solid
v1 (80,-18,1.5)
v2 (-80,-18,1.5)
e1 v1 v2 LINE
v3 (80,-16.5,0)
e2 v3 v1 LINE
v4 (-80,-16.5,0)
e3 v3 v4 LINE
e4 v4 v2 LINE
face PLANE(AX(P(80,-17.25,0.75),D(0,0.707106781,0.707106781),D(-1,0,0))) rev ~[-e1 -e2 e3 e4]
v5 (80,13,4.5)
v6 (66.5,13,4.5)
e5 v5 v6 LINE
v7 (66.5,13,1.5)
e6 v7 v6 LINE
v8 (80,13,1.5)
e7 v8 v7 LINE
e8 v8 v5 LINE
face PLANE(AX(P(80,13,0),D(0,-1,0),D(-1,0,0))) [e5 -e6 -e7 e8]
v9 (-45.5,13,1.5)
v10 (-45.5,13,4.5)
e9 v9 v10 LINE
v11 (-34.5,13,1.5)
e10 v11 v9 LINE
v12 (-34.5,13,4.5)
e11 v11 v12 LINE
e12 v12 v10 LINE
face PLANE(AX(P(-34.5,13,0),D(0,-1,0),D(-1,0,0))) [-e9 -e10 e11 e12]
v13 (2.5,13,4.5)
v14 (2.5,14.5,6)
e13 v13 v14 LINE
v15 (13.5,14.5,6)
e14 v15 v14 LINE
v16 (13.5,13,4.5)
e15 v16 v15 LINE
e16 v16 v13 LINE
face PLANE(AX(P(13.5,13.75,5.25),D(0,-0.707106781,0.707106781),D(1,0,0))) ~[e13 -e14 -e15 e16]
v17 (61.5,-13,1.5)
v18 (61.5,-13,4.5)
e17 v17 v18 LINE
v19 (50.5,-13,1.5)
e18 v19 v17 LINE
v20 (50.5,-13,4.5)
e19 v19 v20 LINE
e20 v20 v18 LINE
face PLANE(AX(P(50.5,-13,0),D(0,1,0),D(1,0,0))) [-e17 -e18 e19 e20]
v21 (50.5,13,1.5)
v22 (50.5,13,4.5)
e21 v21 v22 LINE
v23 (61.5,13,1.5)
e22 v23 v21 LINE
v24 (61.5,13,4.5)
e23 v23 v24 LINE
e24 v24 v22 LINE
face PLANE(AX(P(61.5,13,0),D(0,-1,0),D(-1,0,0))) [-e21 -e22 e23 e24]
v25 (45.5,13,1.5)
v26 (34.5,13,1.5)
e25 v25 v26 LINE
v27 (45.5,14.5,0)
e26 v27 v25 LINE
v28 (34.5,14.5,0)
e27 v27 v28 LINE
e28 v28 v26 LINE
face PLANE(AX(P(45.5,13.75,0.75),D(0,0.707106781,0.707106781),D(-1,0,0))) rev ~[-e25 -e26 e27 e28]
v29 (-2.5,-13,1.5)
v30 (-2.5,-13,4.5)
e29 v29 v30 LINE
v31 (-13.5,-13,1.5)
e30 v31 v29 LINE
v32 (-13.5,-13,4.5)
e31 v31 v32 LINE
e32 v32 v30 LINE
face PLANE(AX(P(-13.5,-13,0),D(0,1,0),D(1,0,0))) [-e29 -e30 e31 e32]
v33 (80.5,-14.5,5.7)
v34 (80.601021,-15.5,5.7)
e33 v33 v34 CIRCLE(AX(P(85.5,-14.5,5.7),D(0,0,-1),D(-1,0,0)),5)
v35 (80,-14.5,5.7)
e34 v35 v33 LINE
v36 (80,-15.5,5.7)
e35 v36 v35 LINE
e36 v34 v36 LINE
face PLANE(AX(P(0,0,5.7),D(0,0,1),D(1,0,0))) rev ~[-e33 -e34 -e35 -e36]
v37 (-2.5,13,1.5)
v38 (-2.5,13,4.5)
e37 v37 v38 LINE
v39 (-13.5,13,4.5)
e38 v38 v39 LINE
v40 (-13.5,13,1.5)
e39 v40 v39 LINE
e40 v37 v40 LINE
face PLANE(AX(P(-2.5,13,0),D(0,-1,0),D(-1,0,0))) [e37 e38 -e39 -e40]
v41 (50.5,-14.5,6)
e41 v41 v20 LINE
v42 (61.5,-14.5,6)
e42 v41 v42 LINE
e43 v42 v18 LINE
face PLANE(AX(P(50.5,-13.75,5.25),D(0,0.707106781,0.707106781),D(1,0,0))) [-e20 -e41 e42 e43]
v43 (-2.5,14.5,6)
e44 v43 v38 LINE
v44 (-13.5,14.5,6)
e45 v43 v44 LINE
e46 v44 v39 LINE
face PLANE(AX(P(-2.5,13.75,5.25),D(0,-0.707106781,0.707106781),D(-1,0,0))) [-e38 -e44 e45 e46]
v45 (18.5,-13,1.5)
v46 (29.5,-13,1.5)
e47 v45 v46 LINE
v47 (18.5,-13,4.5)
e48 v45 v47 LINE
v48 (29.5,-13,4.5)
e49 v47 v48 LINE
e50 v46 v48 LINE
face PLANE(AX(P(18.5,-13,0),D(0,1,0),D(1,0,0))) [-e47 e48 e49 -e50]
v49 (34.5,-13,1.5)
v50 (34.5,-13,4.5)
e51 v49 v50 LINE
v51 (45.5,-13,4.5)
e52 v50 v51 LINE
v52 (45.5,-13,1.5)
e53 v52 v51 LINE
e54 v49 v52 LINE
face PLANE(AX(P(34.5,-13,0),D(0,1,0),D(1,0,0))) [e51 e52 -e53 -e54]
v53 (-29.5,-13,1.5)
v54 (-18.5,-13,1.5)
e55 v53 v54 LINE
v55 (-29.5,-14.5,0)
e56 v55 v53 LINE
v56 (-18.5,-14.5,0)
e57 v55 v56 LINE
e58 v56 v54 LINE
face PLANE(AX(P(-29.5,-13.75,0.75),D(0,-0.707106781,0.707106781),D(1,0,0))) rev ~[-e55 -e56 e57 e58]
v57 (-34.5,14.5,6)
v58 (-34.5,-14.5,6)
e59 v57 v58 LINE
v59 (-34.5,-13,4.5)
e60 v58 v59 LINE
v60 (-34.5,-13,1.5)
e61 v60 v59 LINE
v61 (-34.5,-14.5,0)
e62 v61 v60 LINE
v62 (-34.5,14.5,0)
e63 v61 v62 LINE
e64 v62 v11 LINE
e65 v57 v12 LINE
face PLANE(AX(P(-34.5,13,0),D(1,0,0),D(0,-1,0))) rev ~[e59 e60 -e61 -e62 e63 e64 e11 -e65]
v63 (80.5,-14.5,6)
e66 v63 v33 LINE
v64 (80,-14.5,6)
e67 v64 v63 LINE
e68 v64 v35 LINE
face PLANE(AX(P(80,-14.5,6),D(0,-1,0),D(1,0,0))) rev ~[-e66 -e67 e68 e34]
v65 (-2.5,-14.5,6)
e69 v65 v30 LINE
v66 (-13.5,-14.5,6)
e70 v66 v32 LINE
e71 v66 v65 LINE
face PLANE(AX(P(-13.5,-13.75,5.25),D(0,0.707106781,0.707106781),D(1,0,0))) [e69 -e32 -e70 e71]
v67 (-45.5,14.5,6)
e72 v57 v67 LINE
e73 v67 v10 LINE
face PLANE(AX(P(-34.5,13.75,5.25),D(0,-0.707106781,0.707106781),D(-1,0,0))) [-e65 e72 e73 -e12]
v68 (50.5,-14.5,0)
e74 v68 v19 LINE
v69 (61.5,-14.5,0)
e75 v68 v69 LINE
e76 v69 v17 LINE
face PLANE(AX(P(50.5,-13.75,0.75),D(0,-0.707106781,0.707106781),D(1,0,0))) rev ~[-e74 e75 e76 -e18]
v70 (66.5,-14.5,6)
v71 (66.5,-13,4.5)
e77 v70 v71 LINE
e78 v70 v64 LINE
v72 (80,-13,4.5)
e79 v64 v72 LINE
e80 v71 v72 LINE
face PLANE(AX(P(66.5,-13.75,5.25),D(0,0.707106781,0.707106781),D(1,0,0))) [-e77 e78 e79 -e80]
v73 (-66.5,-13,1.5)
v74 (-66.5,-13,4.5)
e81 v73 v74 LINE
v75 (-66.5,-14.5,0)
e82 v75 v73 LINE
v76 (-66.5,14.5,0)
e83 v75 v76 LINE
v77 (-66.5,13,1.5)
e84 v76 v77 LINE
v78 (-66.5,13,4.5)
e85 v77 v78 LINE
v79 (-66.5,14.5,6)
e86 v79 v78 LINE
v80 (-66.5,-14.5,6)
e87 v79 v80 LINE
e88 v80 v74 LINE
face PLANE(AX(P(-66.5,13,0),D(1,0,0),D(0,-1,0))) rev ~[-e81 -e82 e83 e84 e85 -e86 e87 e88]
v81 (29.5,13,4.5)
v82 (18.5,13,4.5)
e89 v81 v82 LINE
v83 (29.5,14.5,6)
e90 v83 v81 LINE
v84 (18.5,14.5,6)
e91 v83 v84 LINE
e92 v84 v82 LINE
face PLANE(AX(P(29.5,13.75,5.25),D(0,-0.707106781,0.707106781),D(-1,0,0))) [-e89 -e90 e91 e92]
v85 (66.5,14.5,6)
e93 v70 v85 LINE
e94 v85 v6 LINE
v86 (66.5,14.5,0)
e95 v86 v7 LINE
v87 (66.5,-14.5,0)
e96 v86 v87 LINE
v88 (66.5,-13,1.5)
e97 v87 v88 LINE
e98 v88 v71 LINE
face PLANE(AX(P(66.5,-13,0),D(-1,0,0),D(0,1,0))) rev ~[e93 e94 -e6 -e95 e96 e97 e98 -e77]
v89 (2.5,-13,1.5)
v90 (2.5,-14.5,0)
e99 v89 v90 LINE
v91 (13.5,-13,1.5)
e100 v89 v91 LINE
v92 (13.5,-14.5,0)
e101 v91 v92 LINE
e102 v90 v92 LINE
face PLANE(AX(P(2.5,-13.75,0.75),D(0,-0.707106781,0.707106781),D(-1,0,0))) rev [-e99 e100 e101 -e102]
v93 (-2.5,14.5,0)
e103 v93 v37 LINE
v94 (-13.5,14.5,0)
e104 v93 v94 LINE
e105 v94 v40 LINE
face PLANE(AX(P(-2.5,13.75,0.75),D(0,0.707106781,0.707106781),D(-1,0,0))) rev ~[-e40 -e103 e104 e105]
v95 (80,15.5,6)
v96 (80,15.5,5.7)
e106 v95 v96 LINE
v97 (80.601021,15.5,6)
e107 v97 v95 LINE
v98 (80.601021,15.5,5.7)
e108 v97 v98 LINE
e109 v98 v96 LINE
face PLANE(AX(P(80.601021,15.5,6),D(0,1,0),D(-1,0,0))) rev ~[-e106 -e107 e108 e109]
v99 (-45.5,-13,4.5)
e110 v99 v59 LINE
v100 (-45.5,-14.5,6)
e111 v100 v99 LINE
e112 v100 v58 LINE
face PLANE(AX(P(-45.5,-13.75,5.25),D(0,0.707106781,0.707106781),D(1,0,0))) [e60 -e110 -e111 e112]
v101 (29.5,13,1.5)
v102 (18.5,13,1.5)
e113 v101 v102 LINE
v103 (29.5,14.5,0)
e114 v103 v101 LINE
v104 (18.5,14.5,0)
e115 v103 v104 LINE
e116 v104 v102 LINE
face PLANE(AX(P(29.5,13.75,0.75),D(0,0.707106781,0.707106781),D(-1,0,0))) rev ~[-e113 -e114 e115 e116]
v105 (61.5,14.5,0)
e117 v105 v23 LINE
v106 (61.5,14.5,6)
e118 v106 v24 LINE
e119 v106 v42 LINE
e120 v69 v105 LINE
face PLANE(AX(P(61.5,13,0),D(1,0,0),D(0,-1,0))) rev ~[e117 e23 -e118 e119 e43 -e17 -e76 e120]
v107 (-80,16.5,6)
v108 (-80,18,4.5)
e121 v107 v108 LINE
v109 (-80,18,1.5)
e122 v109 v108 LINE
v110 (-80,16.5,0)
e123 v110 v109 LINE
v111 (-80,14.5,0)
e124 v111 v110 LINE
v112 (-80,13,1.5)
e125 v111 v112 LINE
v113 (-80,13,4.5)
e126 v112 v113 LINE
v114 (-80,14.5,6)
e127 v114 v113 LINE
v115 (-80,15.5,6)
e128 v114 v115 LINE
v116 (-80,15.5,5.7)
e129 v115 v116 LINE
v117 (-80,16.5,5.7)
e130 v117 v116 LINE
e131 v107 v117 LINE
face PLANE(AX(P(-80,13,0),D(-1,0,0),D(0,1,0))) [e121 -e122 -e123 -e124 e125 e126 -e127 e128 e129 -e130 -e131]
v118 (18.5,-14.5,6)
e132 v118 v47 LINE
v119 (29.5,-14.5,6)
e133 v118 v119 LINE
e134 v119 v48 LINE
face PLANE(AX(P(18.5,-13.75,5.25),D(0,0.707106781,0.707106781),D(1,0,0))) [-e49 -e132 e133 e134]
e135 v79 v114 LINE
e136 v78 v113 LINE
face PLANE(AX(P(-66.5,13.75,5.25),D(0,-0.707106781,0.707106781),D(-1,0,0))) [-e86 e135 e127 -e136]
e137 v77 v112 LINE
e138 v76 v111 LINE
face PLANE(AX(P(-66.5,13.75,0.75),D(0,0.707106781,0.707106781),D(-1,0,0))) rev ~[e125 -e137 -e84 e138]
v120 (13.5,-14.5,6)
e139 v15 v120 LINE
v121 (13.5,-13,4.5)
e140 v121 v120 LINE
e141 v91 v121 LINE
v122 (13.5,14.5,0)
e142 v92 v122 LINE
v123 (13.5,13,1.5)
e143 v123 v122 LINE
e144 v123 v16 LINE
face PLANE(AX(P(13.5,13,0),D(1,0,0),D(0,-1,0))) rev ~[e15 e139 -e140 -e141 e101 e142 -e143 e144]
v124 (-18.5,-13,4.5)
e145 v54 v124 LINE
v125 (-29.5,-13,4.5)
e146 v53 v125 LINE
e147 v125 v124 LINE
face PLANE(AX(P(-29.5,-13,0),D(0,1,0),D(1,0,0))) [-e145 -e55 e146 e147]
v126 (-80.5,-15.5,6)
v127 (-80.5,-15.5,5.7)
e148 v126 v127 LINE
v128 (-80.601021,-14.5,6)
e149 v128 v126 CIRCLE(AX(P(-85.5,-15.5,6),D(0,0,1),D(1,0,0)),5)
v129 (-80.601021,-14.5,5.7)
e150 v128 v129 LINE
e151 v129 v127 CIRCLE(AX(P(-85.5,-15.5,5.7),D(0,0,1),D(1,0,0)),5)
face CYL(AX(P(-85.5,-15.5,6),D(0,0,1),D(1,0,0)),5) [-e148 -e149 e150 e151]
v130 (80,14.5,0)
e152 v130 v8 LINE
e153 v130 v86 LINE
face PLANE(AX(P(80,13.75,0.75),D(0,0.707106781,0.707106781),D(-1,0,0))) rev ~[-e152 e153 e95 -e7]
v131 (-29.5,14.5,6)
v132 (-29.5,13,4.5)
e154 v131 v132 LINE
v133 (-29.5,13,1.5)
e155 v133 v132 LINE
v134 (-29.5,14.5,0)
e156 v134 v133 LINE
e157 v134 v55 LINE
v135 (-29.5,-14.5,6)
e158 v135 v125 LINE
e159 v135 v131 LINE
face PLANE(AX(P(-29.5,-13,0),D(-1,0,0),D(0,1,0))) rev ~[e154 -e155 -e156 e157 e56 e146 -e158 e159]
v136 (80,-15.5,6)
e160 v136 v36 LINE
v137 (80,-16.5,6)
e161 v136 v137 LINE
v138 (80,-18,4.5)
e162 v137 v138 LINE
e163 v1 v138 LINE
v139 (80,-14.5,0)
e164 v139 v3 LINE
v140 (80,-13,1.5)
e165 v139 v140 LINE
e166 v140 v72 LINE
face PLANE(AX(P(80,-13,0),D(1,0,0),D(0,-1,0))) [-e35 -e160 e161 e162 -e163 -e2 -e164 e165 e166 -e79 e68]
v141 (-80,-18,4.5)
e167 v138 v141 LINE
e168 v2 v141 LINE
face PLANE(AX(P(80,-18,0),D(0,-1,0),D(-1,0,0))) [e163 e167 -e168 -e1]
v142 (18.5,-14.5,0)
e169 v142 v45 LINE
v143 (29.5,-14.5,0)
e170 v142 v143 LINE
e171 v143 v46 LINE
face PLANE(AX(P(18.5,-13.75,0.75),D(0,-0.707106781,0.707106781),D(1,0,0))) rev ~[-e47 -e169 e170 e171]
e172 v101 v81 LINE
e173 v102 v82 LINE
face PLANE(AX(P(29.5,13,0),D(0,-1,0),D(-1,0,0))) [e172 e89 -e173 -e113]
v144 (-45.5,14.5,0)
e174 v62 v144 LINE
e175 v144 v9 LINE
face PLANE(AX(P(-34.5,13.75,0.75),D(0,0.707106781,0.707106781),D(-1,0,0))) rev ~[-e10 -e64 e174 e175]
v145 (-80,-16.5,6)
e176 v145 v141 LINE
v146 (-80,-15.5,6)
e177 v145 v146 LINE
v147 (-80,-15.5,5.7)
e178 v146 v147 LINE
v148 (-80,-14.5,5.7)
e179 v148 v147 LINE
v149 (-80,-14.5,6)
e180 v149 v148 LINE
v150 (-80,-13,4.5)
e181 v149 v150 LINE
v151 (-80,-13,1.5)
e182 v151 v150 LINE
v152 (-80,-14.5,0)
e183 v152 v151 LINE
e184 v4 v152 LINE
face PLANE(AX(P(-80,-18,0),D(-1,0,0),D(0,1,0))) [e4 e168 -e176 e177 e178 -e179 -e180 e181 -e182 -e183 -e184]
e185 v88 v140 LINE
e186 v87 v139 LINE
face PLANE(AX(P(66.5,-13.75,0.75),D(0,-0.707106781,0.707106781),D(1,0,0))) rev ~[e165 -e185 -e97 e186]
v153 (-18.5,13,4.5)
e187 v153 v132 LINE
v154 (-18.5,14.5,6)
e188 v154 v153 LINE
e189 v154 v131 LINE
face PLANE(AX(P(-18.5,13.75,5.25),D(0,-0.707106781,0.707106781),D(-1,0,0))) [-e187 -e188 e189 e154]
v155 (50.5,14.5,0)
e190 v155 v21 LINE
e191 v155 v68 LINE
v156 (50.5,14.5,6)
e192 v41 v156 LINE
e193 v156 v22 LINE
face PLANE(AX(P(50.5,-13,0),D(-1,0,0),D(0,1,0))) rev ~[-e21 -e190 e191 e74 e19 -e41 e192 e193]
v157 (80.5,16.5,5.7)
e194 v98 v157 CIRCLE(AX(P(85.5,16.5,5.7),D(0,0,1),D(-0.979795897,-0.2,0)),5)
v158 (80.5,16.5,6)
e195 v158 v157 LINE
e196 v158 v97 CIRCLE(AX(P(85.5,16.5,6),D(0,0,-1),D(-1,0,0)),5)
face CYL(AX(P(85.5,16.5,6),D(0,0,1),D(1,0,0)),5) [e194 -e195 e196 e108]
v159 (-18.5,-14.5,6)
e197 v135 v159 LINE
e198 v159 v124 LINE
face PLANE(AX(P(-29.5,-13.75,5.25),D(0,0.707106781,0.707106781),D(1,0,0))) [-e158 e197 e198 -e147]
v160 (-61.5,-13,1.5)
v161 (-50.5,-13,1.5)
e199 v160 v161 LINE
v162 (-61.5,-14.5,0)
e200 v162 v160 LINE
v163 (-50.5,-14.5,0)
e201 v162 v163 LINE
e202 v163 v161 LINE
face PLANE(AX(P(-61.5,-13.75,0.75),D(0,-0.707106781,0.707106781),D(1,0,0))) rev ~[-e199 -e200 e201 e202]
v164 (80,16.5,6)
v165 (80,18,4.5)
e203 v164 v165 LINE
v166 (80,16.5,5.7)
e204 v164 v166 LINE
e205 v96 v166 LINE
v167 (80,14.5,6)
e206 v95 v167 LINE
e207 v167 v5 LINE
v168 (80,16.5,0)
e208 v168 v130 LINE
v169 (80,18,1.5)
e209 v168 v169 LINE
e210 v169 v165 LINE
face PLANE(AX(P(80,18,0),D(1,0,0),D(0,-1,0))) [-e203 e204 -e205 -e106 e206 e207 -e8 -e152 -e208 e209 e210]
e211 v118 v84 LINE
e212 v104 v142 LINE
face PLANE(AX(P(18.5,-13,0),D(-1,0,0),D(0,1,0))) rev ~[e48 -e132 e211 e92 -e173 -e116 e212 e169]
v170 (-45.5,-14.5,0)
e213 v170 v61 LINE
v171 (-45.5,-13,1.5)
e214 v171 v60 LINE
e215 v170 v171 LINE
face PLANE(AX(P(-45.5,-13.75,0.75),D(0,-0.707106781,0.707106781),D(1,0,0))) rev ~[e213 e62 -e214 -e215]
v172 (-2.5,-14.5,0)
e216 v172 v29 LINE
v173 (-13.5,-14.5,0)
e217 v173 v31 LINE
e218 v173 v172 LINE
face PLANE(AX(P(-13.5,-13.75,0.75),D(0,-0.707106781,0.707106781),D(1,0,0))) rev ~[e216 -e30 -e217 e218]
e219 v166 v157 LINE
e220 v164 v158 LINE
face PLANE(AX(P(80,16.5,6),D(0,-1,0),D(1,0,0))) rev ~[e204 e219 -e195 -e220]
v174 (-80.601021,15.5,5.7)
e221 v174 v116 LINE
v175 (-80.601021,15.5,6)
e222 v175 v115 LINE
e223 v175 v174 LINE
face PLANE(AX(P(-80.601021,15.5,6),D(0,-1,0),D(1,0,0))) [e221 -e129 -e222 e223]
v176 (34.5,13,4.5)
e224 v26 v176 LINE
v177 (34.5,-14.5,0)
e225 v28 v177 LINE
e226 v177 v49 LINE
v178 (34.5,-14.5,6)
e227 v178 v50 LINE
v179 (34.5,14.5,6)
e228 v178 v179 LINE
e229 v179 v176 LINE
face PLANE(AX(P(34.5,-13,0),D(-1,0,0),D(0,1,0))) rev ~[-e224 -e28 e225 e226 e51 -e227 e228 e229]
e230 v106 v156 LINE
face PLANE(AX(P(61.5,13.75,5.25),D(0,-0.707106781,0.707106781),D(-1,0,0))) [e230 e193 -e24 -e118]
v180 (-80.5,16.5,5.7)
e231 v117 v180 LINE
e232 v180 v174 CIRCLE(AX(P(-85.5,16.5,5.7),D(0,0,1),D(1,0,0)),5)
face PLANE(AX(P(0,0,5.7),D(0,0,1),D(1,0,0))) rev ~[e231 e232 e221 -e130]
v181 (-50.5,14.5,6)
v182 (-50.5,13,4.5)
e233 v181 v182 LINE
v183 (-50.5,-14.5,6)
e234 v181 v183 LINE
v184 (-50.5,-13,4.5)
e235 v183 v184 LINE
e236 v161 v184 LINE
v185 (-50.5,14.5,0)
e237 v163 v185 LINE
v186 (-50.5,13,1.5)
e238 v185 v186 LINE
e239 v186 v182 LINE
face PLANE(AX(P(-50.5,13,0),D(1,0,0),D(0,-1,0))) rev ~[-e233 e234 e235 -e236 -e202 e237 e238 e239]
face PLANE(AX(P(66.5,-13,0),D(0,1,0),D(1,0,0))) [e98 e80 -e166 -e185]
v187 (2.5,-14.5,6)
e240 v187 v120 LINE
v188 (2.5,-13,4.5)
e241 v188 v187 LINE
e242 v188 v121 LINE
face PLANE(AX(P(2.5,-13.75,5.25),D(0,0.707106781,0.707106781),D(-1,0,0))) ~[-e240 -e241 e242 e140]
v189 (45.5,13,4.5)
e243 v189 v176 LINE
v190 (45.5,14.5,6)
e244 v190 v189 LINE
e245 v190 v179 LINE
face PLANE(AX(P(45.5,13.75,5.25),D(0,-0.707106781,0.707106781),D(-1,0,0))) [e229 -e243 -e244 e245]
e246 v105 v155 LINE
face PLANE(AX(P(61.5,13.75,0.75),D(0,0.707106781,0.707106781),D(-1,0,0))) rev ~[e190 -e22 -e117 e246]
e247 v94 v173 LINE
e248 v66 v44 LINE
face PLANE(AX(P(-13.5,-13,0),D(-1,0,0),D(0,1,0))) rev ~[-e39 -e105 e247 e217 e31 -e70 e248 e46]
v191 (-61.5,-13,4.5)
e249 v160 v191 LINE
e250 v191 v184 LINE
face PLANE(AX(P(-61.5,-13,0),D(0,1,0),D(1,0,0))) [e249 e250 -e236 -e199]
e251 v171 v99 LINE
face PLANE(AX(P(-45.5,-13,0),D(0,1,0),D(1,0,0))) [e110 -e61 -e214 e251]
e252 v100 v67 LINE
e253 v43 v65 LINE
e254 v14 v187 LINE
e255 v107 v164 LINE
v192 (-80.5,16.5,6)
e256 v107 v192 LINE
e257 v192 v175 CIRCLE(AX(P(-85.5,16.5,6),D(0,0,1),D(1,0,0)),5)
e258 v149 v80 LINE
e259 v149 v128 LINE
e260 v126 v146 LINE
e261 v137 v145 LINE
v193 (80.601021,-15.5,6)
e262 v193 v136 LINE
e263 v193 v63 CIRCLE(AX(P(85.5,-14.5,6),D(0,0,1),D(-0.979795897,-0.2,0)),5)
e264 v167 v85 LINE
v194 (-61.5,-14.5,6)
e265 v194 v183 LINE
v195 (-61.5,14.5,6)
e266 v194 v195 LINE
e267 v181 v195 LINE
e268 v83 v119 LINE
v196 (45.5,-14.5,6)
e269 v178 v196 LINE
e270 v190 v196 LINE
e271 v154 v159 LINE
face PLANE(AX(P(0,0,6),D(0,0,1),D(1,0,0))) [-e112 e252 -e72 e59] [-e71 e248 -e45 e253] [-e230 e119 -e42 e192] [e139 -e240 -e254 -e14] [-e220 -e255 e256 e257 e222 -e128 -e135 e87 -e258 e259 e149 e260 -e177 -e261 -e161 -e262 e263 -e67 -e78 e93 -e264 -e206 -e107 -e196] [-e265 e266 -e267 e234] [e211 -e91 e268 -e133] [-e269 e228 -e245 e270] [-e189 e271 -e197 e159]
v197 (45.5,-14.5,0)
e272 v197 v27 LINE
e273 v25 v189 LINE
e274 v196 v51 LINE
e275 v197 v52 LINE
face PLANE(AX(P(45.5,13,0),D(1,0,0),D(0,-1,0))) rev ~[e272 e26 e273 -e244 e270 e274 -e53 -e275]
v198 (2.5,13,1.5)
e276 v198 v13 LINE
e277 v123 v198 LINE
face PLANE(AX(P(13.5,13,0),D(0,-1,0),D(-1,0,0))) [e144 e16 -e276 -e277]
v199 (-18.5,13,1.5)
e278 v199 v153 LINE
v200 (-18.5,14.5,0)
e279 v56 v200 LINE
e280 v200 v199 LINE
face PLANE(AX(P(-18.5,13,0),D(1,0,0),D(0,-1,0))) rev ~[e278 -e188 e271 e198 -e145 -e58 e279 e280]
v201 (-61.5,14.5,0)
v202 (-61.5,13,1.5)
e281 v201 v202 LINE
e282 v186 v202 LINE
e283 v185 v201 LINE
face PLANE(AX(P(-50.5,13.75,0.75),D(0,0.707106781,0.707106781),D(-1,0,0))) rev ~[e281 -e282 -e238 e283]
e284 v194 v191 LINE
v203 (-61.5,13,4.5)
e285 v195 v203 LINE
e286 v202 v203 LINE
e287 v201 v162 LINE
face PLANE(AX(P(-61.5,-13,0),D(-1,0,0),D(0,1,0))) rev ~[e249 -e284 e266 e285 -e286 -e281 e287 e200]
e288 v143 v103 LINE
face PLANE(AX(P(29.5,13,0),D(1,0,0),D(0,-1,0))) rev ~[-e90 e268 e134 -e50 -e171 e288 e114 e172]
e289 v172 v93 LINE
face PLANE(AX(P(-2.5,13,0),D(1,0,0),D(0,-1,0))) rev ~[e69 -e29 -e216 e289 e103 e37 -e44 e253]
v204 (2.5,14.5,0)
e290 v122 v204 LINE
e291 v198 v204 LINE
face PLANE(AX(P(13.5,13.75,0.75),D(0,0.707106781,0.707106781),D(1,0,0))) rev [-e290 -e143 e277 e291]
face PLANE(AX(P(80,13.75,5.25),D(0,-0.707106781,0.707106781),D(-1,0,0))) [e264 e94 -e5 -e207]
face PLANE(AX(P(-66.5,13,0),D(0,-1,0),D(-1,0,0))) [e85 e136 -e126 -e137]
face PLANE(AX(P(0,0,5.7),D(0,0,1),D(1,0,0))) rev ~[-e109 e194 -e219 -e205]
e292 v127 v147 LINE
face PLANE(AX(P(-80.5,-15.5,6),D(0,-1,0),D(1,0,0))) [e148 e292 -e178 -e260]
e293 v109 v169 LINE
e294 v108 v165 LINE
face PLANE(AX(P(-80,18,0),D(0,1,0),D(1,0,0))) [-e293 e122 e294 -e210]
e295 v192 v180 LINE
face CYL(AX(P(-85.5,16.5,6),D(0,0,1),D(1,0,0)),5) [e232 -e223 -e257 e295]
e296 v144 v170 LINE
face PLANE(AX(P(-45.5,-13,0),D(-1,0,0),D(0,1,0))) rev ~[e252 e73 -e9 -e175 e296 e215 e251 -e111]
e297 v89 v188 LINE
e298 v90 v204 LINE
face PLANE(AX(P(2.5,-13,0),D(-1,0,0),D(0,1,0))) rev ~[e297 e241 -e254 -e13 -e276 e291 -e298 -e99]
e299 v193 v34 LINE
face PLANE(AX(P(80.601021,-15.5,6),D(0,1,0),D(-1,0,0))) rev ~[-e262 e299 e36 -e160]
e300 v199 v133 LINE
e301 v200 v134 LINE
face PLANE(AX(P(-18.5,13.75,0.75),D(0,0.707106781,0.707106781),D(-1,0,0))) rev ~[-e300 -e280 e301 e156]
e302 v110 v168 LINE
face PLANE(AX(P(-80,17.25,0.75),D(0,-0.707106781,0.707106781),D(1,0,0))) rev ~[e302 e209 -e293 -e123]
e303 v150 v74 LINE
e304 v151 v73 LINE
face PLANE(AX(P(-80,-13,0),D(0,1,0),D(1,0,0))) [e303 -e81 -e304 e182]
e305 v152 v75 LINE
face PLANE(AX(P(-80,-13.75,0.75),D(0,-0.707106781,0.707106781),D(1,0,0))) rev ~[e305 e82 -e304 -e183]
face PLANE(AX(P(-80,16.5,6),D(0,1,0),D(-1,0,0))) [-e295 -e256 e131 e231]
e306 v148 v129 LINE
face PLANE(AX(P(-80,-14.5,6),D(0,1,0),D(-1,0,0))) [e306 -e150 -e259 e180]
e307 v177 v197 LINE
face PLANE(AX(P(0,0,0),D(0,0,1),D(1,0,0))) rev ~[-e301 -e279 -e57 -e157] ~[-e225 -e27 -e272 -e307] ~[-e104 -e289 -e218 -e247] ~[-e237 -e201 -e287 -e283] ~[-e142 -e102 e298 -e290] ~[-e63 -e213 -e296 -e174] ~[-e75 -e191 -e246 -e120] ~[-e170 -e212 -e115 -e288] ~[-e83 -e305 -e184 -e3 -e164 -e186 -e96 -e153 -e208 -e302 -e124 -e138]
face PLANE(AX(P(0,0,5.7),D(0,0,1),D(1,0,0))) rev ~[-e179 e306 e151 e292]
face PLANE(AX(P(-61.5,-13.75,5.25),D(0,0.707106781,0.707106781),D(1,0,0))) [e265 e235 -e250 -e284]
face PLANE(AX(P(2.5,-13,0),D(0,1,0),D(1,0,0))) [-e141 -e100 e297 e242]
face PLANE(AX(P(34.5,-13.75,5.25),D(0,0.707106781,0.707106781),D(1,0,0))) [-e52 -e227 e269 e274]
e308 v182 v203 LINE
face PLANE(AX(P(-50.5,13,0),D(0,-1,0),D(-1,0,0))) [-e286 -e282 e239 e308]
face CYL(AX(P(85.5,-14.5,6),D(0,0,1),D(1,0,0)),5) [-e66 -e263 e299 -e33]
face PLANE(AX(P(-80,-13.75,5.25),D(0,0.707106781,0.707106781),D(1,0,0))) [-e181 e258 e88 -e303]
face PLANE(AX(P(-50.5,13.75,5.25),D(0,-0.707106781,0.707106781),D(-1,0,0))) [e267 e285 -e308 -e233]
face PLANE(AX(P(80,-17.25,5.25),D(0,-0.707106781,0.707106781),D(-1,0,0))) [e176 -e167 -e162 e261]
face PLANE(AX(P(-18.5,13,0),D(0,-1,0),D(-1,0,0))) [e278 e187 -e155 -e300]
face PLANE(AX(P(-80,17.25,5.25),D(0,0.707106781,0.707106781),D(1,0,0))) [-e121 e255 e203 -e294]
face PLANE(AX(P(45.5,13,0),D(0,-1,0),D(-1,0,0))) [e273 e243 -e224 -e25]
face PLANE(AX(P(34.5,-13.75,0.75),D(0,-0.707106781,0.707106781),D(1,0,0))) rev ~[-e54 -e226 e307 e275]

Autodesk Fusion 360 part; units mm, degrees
sketch "Skizze1" plane through (0, 0, 0) normal (0, 0, 1) x (1, 0, 0)
  line L0 (2.5, 13) -> (-2.5, 13)
  line L1 (-2.5, 13) -> (-2.5, -13)
  line L2 (-2.5, -13) -> (2.5, -13)
  line L3 (2.5, -13) -> (2.5, 13)
  line L4 (2.5, 13) -> (-2.5, -13) construction
  line L5 (-2.5, 13) -> (2.5, -13) construction
  line L6 (80, 13) -> (-80, 13)
  line L7 (-80, 13) -> (-80, 18)
  line L8 (-80, 18) -> (80, 18)
  line L9 (80, 18) -> (80, 13)
  line L10 (80, 13) -> (-80, 18) construction
  line L11 (-80, 13) -> (80, 18) construction
  line L12 (80, -18) -> (-80, -18)
  line L13 (-80, -18) -> (-80, -13)
  line L14 (-80, -13) -> (80, -13)
  line L15 (80, -13) -> (80, -18)
  line L16 (80, -18) -> (-80, -13) construction
  line L17 (-80, -18) -> (80, -13) construction
  line L18 (-61.5, 13) -> (-66.5, 13)
  line L19 (-61.5, -13) -> (-61.5, 13)
  line L20 (-61.5, 13) -> (-66.5, -13) construction
  line L21 (-66.5, 13) -> (-61.5, -13) construction
  line L22 (-66.5, -13) -> (-61.5, -13)
  line L23 (-66.5, 13) -> (-66.5, -13)
  line L24 (-45.5, 13) -> (-50.5, 13)
  line L25 (-45.5, -13) -> (-45.5, 13)
  line L26 (-45.5, 13) -> (-50.5, -13) construction
  line L27 (-50.5, 13) -> (-45.5, -13) construction
  line L28 (-50.5, -13) -> (-45.5, -13)
  line L29 (-50.5, 13) -> (-50.5, -13)
  line L30 (-29.5, 13) -> (-34.5, 13)
  line L31 (-29.5, -13) -> (-29.5, 13)
  line L32 (-29.5, 13) -> (-34.5, -13) construction
  line L33 (-34.5, 13) -> (-29.5, -13) construction
  line L34 (-34.5, -13) -> (-29.5, -13)
  line L35 (-34.5, 13) -> (-34.5, -13)
  line L36 (-13.5, 13) -> (-18.5, 13)
  line L37 (-13.5, -13) -> (-13.5, 13)
  line L38 (-13.5, 13) -> (-18.5, -13) construction
  line L39 (-18.5, 13) -> (-13.5, -13) construction
  line L40 (-18.5, -13) -> (-13.5, -13)
  line L41 (-18.5, 13) -> (-18.5, -13)
  line L42 (18.5, 13) -> (13.5, 13)
  line L43 (18.5, -13) -> (18.5, 13)
  line L44 (18.5, 13) -> (13.5, -13) construction
  line L45 (13.5, 13) -> (18.5, -13) construction
  line L46 (13.5, -13) -> (18.5, -13)
  line L47 (13.5, 13) -> (13.5, -13)
  line L48 (34.5, 13) -> (29.5, 13)
  line L49 (34.5, -13) -> (34.5, 13)
  line L50 (34.5, 13) -> (29.5, -13) construction
  line L51 (29.5, 13) -> (34.5, -13) construction
  line L52 (29.5, -13) -> (34.5, -13)
  line L53 (29.5, 13) -> (29.5, -13)
  line L54 (50.5, 13) -> (45.5, 13)
  line L55 (50.5, -13) -> (50.5, 13)
  line L56 (50.5, 13) -> (45.5, -13) construction
  line L57 (45.5, 13) -> (50.5, -13) construction
  line L58 (45.5, -13) -> (50.5, -13)
  line L59 (45.5, 13) -> (45.5, -13)
  line L60 (66.5, 13) -> (61.5, 13)
  line L61 (66.5, -13) -> (66.5, 13)
  line L62 (66.5, 13) -> (61.5, -13) construction
  line L63 (61.5, 13) -> (66.5, -13) construction
  line L64 (61.5, -13) -> (66.5, -13)
  line L65 (61.5, 13) -> (61.5, -13)
  point P0 (0, 15.5)
  point P1 (0, -15.5)
  point P2 (-64, 0)
  point P3 (-64, 15.5)
  point P4 (-64, 0)
  point P5 (-64, -15.5)
  point P6 (-48, 0)
  point P7 (-48, 15.5)
  point P8 (-48, 0)
  point P9 (-48, -15.5)
  point P10 (-32, 0)
  point P11 (-32, 15.5)
  point P12 (-32, 0)
  point P13 (-32, -15.5)
  point P14 (-16, 0)
  point P15 (-16, 15.5)
  point P16 (-16, 0)
  point P17 (-16, -15.5)
  point P18 (16, 0)
  point P19 (16, 15.5)
  point P20 (16, 0)
  point P21 (16, -15.5)
  point P22 (32, 0)
  point P23 (32, 15.5)
  point P24 (32, 0)
  point P25 (32, -15.5)
  point P26 (48, 0)
  point P27 (48, 15.5)
  point P28 (48, 0)
  point P29 (48, -15.5)
  point P30 (64, 0)
  point P31 (64, 15.5)
  point P32 (64, 0)
  point P33 (64, -15.5)
  dimension "d1" = 5
  dimension "d2" = 26
  dimension "d3" = 160
  dimension "d6" = 16
  dimension "d7" = 0
extrude "Extrusion1" add sketch "Skizze1" along normal blind 6 contours L0 L1 L2 L3 L6 L14 | L0 L6 L7 L8 L9 L18 L24 L30 L36 L42 L48 L54 L60 | L2 L12 L13 L14 L15 L22 L28 L34 L40 L46 L52 L58 L64 | L6 L14 L42 L43 L46 L47 | L6 L14 L36 L37 L40 L41 | L6 L14 L48 L49 L52 L53 | L6 L14 L30 L31 L34 L35 | L6 L14 L54 L55 L58 L59 | L6 L14 L24 L25 L28 L29 | L6 L14 L60 L61 L64 L65 | L6 L14 L18 L19 L22 L23
chamfer "Fase1" distance 1.5 angle 45 44 edges at (0, 18, 0) (0, 18, 6) (0, -18, 6) (0, -18, 0) (-73.25, 13, 6) (-56, 13, 6) (-40, 13, 6) (-40, 13, 0) (-56, 13, 0) (-73.25, 13, 0) (-24, 13, 6) (-24, 13, 0) (-8, 13, 6) (-8, 13, 0) (8, 13, 6) (8, 13, 0) (24, 13, 6) (24, 13, 0) (40, 13, 6) (40, 13, 0) (56, 13, 6) (56, 13, 0) (73.25, 13, 6) (73.25, 13, 0) (73.25, -13, 6) (56, -13, 6) (40, -13, 6) (24, -13, 6) (8, -13, 6) (-8, -13, 6) (-24, -13, 6) (-40, -13, 6) (-56, -13, 6) (-73.25, -13, 6) (-73.25, -13, 0) (-56, -13, 0) (-40, -13, 0) (-24, -13, 0) (-8, -13, 0) (8, -13, 0) (24, -13, 0) (40, -13, 0) (56, -13, 0) (73.25, -13, 0)
sketch "Skizze2" plane through (0, 0, 6) normal (0, 0, 1) x (1, 0, 0)
  line L0 (-66.5, -14.5) -> (-80, -14.5)
  line L1 (-80, -14.5) -> (-80, -16.5)
  line L2 (-80, -16.5) -> (80, -16.5)
  line L3 (80, -16.5) -> (80, -14.5)
  line L4 (80, -14.5) -> (66.5, -14.5)
  line L5 (66.5, -14.5) -> (66.5, 14.5)
  line L6 (66.5, 14.5) -> (80, 14.5)
  line L7 (80, 14.5) -> (80, 16.5)
  line L8 (80, 16.5) -> (-80, 16.5)
  line L9 (-80, 16.5) -> (-80, 14.5)
  line L10 (-80, 14.5) -> (-66.5, 14.5)
  line L11 (-66.5, 14.5) -> (-66.5, -14.5)
  line L12 (-61.5, -14.5) -> (-61.5, 14.5)
  line L13 (-61.5, 14.5) -> (-50.5, 14.5)
  line L14 (-50.5, 14.5) -> (-50.5, -14.5)
  line L15 (-50.5, -14.5) -> (-61.5, -14.5)
  line L16 (-45.5, -14.5) -> (-45.5, 14.5)
  line L17 (-45.5, 14.5) -> (-34.5, 14.5)
  line L18 (-34.5, 14.5) -> (-34.5, -14.5)
  line L19 (-34.5, -14.5) -> (-45.5, -14.5)
  line L20 (-29.5, -14.5) -> (-29.5, 14.5)
  line L21 (-29.5, 14.5) -> (-18.5, 14.5)
  line L22 (-18.5, 14.5) -> (-18.5, -14.5)
  line L23 (-18.5, -14.5) -> (-29.5, -14.5)
  line L24 (-13.5, -14.5) -> (-13.5, 14.5)
  line L25 (-13.5, 14.5) -> (-2.5, 14.5)
  line L26 (-2.5, 14.5) -> (-2.5, -14.5)
  line L27 (-2.5, -14.5) -> (-13.5, -14.5)
  line L28 (2.5, -14.5) -> (2.5, 14.5)
  line L29 (2.5, 14.5) -> (13.5, 14.5)
  line L30 (13.5, 14.5) -> (13.5, -14.5)
  line L31 (13.5, -14.5) -> (2.5, -14.5)
  line L32 (18.5, -14.5) -> (18.5, 14.5)
  line L33 (18.5, 14.5) -> (29.5, 14.5)
  line L34 (29.5, 14.5) -> (29.5, -14.5)
  line L35 (29.5, -14.5) -> (18.5, -14.5)
  line L36 (34.5, -14.5) -> (34.5, 14.5)
  line L37 (34.5, 14.5) -> (45.5, 14.5)
  line L38 (45.5, 14.5) -> (45.5, -14.5)
  line L39 (45.5, -14.5) -> (34.5, -14.5)
  line L40 (50.5, -14.5) -> (50.5, 14.5)
  line L41 (50.5, 14.5) -> (61.5, 14.5)
  line L42 (61.5, 14.5) -> (61.5, -14.5)
  line L43 (61.5, -14.5) -> (50.5, -14.5)
  circle A0 centre (-85.5, 16.5) radius 5
  circle A1 centre (-85.5, -15.5) radius 5
  circle A2 centre (85.5, 16.5) radius 5
  circle A3 centre (85.5, -14.5) radius 5
  line L44 (-80, 16.5) -> (-85.5, 16.5)
  line L45 (-85.5, 16.5) -> (-85.5, 15.5)
  line L46 (-85.5, 15.5) -> (-80, 15.5)
  line L47 (-80, 15.5) -> (-80, 16.5)
  line L48 (-80, -14.5) -> (-85.5, -14.5)
  line L49 (-85.5, -14.5) -> (-85.5, -15.5)
  line L50 (-85.5, -15.5) -> (-80, -15.5)
  line L51 (-80, -15.5) -> (-80, -14.5)
  line L52 (80, 16.5) -> (85.5, 16.5)
  line L53 (85.5, 16.5) -> (85.5, 15.5)
  line L54 (85.5, 15.5) -> (80, 15.5)
  line L55 (80, 15.5) -> (80, 16.5)
  line L56 (80, -14.5) -> (85.5, -14.5)
  line L57 (85.5, -14.5) -> (85.5, -15.5)
  line L58 (85.5, -15.5) -> (80, -15.5)
  line L59 (80, -15.5) -> (80, -14.5)
  dimension "d11" = 10
  dimension "d12" = 1
  dimension "d13" = 5.5
extrude "Extrusion2" add sketch "Skizze2" against normal blind 0.3 contours L1 A1 L48 L50 L51 | A1 L48 L49 L50 | A1 L48 L49 L50 | L9 A0 L44 L46 L47 | A0 L44 L45 L46 | A0 L44 L45 L46 | L3 A3 L56 L58 L59 | L7 A2 L52 L54 L55 | A3 L56 L57 L58 | A3 L56 L57 L58 | A2 L52 L53 L54 | A2 L52 L53 L54
